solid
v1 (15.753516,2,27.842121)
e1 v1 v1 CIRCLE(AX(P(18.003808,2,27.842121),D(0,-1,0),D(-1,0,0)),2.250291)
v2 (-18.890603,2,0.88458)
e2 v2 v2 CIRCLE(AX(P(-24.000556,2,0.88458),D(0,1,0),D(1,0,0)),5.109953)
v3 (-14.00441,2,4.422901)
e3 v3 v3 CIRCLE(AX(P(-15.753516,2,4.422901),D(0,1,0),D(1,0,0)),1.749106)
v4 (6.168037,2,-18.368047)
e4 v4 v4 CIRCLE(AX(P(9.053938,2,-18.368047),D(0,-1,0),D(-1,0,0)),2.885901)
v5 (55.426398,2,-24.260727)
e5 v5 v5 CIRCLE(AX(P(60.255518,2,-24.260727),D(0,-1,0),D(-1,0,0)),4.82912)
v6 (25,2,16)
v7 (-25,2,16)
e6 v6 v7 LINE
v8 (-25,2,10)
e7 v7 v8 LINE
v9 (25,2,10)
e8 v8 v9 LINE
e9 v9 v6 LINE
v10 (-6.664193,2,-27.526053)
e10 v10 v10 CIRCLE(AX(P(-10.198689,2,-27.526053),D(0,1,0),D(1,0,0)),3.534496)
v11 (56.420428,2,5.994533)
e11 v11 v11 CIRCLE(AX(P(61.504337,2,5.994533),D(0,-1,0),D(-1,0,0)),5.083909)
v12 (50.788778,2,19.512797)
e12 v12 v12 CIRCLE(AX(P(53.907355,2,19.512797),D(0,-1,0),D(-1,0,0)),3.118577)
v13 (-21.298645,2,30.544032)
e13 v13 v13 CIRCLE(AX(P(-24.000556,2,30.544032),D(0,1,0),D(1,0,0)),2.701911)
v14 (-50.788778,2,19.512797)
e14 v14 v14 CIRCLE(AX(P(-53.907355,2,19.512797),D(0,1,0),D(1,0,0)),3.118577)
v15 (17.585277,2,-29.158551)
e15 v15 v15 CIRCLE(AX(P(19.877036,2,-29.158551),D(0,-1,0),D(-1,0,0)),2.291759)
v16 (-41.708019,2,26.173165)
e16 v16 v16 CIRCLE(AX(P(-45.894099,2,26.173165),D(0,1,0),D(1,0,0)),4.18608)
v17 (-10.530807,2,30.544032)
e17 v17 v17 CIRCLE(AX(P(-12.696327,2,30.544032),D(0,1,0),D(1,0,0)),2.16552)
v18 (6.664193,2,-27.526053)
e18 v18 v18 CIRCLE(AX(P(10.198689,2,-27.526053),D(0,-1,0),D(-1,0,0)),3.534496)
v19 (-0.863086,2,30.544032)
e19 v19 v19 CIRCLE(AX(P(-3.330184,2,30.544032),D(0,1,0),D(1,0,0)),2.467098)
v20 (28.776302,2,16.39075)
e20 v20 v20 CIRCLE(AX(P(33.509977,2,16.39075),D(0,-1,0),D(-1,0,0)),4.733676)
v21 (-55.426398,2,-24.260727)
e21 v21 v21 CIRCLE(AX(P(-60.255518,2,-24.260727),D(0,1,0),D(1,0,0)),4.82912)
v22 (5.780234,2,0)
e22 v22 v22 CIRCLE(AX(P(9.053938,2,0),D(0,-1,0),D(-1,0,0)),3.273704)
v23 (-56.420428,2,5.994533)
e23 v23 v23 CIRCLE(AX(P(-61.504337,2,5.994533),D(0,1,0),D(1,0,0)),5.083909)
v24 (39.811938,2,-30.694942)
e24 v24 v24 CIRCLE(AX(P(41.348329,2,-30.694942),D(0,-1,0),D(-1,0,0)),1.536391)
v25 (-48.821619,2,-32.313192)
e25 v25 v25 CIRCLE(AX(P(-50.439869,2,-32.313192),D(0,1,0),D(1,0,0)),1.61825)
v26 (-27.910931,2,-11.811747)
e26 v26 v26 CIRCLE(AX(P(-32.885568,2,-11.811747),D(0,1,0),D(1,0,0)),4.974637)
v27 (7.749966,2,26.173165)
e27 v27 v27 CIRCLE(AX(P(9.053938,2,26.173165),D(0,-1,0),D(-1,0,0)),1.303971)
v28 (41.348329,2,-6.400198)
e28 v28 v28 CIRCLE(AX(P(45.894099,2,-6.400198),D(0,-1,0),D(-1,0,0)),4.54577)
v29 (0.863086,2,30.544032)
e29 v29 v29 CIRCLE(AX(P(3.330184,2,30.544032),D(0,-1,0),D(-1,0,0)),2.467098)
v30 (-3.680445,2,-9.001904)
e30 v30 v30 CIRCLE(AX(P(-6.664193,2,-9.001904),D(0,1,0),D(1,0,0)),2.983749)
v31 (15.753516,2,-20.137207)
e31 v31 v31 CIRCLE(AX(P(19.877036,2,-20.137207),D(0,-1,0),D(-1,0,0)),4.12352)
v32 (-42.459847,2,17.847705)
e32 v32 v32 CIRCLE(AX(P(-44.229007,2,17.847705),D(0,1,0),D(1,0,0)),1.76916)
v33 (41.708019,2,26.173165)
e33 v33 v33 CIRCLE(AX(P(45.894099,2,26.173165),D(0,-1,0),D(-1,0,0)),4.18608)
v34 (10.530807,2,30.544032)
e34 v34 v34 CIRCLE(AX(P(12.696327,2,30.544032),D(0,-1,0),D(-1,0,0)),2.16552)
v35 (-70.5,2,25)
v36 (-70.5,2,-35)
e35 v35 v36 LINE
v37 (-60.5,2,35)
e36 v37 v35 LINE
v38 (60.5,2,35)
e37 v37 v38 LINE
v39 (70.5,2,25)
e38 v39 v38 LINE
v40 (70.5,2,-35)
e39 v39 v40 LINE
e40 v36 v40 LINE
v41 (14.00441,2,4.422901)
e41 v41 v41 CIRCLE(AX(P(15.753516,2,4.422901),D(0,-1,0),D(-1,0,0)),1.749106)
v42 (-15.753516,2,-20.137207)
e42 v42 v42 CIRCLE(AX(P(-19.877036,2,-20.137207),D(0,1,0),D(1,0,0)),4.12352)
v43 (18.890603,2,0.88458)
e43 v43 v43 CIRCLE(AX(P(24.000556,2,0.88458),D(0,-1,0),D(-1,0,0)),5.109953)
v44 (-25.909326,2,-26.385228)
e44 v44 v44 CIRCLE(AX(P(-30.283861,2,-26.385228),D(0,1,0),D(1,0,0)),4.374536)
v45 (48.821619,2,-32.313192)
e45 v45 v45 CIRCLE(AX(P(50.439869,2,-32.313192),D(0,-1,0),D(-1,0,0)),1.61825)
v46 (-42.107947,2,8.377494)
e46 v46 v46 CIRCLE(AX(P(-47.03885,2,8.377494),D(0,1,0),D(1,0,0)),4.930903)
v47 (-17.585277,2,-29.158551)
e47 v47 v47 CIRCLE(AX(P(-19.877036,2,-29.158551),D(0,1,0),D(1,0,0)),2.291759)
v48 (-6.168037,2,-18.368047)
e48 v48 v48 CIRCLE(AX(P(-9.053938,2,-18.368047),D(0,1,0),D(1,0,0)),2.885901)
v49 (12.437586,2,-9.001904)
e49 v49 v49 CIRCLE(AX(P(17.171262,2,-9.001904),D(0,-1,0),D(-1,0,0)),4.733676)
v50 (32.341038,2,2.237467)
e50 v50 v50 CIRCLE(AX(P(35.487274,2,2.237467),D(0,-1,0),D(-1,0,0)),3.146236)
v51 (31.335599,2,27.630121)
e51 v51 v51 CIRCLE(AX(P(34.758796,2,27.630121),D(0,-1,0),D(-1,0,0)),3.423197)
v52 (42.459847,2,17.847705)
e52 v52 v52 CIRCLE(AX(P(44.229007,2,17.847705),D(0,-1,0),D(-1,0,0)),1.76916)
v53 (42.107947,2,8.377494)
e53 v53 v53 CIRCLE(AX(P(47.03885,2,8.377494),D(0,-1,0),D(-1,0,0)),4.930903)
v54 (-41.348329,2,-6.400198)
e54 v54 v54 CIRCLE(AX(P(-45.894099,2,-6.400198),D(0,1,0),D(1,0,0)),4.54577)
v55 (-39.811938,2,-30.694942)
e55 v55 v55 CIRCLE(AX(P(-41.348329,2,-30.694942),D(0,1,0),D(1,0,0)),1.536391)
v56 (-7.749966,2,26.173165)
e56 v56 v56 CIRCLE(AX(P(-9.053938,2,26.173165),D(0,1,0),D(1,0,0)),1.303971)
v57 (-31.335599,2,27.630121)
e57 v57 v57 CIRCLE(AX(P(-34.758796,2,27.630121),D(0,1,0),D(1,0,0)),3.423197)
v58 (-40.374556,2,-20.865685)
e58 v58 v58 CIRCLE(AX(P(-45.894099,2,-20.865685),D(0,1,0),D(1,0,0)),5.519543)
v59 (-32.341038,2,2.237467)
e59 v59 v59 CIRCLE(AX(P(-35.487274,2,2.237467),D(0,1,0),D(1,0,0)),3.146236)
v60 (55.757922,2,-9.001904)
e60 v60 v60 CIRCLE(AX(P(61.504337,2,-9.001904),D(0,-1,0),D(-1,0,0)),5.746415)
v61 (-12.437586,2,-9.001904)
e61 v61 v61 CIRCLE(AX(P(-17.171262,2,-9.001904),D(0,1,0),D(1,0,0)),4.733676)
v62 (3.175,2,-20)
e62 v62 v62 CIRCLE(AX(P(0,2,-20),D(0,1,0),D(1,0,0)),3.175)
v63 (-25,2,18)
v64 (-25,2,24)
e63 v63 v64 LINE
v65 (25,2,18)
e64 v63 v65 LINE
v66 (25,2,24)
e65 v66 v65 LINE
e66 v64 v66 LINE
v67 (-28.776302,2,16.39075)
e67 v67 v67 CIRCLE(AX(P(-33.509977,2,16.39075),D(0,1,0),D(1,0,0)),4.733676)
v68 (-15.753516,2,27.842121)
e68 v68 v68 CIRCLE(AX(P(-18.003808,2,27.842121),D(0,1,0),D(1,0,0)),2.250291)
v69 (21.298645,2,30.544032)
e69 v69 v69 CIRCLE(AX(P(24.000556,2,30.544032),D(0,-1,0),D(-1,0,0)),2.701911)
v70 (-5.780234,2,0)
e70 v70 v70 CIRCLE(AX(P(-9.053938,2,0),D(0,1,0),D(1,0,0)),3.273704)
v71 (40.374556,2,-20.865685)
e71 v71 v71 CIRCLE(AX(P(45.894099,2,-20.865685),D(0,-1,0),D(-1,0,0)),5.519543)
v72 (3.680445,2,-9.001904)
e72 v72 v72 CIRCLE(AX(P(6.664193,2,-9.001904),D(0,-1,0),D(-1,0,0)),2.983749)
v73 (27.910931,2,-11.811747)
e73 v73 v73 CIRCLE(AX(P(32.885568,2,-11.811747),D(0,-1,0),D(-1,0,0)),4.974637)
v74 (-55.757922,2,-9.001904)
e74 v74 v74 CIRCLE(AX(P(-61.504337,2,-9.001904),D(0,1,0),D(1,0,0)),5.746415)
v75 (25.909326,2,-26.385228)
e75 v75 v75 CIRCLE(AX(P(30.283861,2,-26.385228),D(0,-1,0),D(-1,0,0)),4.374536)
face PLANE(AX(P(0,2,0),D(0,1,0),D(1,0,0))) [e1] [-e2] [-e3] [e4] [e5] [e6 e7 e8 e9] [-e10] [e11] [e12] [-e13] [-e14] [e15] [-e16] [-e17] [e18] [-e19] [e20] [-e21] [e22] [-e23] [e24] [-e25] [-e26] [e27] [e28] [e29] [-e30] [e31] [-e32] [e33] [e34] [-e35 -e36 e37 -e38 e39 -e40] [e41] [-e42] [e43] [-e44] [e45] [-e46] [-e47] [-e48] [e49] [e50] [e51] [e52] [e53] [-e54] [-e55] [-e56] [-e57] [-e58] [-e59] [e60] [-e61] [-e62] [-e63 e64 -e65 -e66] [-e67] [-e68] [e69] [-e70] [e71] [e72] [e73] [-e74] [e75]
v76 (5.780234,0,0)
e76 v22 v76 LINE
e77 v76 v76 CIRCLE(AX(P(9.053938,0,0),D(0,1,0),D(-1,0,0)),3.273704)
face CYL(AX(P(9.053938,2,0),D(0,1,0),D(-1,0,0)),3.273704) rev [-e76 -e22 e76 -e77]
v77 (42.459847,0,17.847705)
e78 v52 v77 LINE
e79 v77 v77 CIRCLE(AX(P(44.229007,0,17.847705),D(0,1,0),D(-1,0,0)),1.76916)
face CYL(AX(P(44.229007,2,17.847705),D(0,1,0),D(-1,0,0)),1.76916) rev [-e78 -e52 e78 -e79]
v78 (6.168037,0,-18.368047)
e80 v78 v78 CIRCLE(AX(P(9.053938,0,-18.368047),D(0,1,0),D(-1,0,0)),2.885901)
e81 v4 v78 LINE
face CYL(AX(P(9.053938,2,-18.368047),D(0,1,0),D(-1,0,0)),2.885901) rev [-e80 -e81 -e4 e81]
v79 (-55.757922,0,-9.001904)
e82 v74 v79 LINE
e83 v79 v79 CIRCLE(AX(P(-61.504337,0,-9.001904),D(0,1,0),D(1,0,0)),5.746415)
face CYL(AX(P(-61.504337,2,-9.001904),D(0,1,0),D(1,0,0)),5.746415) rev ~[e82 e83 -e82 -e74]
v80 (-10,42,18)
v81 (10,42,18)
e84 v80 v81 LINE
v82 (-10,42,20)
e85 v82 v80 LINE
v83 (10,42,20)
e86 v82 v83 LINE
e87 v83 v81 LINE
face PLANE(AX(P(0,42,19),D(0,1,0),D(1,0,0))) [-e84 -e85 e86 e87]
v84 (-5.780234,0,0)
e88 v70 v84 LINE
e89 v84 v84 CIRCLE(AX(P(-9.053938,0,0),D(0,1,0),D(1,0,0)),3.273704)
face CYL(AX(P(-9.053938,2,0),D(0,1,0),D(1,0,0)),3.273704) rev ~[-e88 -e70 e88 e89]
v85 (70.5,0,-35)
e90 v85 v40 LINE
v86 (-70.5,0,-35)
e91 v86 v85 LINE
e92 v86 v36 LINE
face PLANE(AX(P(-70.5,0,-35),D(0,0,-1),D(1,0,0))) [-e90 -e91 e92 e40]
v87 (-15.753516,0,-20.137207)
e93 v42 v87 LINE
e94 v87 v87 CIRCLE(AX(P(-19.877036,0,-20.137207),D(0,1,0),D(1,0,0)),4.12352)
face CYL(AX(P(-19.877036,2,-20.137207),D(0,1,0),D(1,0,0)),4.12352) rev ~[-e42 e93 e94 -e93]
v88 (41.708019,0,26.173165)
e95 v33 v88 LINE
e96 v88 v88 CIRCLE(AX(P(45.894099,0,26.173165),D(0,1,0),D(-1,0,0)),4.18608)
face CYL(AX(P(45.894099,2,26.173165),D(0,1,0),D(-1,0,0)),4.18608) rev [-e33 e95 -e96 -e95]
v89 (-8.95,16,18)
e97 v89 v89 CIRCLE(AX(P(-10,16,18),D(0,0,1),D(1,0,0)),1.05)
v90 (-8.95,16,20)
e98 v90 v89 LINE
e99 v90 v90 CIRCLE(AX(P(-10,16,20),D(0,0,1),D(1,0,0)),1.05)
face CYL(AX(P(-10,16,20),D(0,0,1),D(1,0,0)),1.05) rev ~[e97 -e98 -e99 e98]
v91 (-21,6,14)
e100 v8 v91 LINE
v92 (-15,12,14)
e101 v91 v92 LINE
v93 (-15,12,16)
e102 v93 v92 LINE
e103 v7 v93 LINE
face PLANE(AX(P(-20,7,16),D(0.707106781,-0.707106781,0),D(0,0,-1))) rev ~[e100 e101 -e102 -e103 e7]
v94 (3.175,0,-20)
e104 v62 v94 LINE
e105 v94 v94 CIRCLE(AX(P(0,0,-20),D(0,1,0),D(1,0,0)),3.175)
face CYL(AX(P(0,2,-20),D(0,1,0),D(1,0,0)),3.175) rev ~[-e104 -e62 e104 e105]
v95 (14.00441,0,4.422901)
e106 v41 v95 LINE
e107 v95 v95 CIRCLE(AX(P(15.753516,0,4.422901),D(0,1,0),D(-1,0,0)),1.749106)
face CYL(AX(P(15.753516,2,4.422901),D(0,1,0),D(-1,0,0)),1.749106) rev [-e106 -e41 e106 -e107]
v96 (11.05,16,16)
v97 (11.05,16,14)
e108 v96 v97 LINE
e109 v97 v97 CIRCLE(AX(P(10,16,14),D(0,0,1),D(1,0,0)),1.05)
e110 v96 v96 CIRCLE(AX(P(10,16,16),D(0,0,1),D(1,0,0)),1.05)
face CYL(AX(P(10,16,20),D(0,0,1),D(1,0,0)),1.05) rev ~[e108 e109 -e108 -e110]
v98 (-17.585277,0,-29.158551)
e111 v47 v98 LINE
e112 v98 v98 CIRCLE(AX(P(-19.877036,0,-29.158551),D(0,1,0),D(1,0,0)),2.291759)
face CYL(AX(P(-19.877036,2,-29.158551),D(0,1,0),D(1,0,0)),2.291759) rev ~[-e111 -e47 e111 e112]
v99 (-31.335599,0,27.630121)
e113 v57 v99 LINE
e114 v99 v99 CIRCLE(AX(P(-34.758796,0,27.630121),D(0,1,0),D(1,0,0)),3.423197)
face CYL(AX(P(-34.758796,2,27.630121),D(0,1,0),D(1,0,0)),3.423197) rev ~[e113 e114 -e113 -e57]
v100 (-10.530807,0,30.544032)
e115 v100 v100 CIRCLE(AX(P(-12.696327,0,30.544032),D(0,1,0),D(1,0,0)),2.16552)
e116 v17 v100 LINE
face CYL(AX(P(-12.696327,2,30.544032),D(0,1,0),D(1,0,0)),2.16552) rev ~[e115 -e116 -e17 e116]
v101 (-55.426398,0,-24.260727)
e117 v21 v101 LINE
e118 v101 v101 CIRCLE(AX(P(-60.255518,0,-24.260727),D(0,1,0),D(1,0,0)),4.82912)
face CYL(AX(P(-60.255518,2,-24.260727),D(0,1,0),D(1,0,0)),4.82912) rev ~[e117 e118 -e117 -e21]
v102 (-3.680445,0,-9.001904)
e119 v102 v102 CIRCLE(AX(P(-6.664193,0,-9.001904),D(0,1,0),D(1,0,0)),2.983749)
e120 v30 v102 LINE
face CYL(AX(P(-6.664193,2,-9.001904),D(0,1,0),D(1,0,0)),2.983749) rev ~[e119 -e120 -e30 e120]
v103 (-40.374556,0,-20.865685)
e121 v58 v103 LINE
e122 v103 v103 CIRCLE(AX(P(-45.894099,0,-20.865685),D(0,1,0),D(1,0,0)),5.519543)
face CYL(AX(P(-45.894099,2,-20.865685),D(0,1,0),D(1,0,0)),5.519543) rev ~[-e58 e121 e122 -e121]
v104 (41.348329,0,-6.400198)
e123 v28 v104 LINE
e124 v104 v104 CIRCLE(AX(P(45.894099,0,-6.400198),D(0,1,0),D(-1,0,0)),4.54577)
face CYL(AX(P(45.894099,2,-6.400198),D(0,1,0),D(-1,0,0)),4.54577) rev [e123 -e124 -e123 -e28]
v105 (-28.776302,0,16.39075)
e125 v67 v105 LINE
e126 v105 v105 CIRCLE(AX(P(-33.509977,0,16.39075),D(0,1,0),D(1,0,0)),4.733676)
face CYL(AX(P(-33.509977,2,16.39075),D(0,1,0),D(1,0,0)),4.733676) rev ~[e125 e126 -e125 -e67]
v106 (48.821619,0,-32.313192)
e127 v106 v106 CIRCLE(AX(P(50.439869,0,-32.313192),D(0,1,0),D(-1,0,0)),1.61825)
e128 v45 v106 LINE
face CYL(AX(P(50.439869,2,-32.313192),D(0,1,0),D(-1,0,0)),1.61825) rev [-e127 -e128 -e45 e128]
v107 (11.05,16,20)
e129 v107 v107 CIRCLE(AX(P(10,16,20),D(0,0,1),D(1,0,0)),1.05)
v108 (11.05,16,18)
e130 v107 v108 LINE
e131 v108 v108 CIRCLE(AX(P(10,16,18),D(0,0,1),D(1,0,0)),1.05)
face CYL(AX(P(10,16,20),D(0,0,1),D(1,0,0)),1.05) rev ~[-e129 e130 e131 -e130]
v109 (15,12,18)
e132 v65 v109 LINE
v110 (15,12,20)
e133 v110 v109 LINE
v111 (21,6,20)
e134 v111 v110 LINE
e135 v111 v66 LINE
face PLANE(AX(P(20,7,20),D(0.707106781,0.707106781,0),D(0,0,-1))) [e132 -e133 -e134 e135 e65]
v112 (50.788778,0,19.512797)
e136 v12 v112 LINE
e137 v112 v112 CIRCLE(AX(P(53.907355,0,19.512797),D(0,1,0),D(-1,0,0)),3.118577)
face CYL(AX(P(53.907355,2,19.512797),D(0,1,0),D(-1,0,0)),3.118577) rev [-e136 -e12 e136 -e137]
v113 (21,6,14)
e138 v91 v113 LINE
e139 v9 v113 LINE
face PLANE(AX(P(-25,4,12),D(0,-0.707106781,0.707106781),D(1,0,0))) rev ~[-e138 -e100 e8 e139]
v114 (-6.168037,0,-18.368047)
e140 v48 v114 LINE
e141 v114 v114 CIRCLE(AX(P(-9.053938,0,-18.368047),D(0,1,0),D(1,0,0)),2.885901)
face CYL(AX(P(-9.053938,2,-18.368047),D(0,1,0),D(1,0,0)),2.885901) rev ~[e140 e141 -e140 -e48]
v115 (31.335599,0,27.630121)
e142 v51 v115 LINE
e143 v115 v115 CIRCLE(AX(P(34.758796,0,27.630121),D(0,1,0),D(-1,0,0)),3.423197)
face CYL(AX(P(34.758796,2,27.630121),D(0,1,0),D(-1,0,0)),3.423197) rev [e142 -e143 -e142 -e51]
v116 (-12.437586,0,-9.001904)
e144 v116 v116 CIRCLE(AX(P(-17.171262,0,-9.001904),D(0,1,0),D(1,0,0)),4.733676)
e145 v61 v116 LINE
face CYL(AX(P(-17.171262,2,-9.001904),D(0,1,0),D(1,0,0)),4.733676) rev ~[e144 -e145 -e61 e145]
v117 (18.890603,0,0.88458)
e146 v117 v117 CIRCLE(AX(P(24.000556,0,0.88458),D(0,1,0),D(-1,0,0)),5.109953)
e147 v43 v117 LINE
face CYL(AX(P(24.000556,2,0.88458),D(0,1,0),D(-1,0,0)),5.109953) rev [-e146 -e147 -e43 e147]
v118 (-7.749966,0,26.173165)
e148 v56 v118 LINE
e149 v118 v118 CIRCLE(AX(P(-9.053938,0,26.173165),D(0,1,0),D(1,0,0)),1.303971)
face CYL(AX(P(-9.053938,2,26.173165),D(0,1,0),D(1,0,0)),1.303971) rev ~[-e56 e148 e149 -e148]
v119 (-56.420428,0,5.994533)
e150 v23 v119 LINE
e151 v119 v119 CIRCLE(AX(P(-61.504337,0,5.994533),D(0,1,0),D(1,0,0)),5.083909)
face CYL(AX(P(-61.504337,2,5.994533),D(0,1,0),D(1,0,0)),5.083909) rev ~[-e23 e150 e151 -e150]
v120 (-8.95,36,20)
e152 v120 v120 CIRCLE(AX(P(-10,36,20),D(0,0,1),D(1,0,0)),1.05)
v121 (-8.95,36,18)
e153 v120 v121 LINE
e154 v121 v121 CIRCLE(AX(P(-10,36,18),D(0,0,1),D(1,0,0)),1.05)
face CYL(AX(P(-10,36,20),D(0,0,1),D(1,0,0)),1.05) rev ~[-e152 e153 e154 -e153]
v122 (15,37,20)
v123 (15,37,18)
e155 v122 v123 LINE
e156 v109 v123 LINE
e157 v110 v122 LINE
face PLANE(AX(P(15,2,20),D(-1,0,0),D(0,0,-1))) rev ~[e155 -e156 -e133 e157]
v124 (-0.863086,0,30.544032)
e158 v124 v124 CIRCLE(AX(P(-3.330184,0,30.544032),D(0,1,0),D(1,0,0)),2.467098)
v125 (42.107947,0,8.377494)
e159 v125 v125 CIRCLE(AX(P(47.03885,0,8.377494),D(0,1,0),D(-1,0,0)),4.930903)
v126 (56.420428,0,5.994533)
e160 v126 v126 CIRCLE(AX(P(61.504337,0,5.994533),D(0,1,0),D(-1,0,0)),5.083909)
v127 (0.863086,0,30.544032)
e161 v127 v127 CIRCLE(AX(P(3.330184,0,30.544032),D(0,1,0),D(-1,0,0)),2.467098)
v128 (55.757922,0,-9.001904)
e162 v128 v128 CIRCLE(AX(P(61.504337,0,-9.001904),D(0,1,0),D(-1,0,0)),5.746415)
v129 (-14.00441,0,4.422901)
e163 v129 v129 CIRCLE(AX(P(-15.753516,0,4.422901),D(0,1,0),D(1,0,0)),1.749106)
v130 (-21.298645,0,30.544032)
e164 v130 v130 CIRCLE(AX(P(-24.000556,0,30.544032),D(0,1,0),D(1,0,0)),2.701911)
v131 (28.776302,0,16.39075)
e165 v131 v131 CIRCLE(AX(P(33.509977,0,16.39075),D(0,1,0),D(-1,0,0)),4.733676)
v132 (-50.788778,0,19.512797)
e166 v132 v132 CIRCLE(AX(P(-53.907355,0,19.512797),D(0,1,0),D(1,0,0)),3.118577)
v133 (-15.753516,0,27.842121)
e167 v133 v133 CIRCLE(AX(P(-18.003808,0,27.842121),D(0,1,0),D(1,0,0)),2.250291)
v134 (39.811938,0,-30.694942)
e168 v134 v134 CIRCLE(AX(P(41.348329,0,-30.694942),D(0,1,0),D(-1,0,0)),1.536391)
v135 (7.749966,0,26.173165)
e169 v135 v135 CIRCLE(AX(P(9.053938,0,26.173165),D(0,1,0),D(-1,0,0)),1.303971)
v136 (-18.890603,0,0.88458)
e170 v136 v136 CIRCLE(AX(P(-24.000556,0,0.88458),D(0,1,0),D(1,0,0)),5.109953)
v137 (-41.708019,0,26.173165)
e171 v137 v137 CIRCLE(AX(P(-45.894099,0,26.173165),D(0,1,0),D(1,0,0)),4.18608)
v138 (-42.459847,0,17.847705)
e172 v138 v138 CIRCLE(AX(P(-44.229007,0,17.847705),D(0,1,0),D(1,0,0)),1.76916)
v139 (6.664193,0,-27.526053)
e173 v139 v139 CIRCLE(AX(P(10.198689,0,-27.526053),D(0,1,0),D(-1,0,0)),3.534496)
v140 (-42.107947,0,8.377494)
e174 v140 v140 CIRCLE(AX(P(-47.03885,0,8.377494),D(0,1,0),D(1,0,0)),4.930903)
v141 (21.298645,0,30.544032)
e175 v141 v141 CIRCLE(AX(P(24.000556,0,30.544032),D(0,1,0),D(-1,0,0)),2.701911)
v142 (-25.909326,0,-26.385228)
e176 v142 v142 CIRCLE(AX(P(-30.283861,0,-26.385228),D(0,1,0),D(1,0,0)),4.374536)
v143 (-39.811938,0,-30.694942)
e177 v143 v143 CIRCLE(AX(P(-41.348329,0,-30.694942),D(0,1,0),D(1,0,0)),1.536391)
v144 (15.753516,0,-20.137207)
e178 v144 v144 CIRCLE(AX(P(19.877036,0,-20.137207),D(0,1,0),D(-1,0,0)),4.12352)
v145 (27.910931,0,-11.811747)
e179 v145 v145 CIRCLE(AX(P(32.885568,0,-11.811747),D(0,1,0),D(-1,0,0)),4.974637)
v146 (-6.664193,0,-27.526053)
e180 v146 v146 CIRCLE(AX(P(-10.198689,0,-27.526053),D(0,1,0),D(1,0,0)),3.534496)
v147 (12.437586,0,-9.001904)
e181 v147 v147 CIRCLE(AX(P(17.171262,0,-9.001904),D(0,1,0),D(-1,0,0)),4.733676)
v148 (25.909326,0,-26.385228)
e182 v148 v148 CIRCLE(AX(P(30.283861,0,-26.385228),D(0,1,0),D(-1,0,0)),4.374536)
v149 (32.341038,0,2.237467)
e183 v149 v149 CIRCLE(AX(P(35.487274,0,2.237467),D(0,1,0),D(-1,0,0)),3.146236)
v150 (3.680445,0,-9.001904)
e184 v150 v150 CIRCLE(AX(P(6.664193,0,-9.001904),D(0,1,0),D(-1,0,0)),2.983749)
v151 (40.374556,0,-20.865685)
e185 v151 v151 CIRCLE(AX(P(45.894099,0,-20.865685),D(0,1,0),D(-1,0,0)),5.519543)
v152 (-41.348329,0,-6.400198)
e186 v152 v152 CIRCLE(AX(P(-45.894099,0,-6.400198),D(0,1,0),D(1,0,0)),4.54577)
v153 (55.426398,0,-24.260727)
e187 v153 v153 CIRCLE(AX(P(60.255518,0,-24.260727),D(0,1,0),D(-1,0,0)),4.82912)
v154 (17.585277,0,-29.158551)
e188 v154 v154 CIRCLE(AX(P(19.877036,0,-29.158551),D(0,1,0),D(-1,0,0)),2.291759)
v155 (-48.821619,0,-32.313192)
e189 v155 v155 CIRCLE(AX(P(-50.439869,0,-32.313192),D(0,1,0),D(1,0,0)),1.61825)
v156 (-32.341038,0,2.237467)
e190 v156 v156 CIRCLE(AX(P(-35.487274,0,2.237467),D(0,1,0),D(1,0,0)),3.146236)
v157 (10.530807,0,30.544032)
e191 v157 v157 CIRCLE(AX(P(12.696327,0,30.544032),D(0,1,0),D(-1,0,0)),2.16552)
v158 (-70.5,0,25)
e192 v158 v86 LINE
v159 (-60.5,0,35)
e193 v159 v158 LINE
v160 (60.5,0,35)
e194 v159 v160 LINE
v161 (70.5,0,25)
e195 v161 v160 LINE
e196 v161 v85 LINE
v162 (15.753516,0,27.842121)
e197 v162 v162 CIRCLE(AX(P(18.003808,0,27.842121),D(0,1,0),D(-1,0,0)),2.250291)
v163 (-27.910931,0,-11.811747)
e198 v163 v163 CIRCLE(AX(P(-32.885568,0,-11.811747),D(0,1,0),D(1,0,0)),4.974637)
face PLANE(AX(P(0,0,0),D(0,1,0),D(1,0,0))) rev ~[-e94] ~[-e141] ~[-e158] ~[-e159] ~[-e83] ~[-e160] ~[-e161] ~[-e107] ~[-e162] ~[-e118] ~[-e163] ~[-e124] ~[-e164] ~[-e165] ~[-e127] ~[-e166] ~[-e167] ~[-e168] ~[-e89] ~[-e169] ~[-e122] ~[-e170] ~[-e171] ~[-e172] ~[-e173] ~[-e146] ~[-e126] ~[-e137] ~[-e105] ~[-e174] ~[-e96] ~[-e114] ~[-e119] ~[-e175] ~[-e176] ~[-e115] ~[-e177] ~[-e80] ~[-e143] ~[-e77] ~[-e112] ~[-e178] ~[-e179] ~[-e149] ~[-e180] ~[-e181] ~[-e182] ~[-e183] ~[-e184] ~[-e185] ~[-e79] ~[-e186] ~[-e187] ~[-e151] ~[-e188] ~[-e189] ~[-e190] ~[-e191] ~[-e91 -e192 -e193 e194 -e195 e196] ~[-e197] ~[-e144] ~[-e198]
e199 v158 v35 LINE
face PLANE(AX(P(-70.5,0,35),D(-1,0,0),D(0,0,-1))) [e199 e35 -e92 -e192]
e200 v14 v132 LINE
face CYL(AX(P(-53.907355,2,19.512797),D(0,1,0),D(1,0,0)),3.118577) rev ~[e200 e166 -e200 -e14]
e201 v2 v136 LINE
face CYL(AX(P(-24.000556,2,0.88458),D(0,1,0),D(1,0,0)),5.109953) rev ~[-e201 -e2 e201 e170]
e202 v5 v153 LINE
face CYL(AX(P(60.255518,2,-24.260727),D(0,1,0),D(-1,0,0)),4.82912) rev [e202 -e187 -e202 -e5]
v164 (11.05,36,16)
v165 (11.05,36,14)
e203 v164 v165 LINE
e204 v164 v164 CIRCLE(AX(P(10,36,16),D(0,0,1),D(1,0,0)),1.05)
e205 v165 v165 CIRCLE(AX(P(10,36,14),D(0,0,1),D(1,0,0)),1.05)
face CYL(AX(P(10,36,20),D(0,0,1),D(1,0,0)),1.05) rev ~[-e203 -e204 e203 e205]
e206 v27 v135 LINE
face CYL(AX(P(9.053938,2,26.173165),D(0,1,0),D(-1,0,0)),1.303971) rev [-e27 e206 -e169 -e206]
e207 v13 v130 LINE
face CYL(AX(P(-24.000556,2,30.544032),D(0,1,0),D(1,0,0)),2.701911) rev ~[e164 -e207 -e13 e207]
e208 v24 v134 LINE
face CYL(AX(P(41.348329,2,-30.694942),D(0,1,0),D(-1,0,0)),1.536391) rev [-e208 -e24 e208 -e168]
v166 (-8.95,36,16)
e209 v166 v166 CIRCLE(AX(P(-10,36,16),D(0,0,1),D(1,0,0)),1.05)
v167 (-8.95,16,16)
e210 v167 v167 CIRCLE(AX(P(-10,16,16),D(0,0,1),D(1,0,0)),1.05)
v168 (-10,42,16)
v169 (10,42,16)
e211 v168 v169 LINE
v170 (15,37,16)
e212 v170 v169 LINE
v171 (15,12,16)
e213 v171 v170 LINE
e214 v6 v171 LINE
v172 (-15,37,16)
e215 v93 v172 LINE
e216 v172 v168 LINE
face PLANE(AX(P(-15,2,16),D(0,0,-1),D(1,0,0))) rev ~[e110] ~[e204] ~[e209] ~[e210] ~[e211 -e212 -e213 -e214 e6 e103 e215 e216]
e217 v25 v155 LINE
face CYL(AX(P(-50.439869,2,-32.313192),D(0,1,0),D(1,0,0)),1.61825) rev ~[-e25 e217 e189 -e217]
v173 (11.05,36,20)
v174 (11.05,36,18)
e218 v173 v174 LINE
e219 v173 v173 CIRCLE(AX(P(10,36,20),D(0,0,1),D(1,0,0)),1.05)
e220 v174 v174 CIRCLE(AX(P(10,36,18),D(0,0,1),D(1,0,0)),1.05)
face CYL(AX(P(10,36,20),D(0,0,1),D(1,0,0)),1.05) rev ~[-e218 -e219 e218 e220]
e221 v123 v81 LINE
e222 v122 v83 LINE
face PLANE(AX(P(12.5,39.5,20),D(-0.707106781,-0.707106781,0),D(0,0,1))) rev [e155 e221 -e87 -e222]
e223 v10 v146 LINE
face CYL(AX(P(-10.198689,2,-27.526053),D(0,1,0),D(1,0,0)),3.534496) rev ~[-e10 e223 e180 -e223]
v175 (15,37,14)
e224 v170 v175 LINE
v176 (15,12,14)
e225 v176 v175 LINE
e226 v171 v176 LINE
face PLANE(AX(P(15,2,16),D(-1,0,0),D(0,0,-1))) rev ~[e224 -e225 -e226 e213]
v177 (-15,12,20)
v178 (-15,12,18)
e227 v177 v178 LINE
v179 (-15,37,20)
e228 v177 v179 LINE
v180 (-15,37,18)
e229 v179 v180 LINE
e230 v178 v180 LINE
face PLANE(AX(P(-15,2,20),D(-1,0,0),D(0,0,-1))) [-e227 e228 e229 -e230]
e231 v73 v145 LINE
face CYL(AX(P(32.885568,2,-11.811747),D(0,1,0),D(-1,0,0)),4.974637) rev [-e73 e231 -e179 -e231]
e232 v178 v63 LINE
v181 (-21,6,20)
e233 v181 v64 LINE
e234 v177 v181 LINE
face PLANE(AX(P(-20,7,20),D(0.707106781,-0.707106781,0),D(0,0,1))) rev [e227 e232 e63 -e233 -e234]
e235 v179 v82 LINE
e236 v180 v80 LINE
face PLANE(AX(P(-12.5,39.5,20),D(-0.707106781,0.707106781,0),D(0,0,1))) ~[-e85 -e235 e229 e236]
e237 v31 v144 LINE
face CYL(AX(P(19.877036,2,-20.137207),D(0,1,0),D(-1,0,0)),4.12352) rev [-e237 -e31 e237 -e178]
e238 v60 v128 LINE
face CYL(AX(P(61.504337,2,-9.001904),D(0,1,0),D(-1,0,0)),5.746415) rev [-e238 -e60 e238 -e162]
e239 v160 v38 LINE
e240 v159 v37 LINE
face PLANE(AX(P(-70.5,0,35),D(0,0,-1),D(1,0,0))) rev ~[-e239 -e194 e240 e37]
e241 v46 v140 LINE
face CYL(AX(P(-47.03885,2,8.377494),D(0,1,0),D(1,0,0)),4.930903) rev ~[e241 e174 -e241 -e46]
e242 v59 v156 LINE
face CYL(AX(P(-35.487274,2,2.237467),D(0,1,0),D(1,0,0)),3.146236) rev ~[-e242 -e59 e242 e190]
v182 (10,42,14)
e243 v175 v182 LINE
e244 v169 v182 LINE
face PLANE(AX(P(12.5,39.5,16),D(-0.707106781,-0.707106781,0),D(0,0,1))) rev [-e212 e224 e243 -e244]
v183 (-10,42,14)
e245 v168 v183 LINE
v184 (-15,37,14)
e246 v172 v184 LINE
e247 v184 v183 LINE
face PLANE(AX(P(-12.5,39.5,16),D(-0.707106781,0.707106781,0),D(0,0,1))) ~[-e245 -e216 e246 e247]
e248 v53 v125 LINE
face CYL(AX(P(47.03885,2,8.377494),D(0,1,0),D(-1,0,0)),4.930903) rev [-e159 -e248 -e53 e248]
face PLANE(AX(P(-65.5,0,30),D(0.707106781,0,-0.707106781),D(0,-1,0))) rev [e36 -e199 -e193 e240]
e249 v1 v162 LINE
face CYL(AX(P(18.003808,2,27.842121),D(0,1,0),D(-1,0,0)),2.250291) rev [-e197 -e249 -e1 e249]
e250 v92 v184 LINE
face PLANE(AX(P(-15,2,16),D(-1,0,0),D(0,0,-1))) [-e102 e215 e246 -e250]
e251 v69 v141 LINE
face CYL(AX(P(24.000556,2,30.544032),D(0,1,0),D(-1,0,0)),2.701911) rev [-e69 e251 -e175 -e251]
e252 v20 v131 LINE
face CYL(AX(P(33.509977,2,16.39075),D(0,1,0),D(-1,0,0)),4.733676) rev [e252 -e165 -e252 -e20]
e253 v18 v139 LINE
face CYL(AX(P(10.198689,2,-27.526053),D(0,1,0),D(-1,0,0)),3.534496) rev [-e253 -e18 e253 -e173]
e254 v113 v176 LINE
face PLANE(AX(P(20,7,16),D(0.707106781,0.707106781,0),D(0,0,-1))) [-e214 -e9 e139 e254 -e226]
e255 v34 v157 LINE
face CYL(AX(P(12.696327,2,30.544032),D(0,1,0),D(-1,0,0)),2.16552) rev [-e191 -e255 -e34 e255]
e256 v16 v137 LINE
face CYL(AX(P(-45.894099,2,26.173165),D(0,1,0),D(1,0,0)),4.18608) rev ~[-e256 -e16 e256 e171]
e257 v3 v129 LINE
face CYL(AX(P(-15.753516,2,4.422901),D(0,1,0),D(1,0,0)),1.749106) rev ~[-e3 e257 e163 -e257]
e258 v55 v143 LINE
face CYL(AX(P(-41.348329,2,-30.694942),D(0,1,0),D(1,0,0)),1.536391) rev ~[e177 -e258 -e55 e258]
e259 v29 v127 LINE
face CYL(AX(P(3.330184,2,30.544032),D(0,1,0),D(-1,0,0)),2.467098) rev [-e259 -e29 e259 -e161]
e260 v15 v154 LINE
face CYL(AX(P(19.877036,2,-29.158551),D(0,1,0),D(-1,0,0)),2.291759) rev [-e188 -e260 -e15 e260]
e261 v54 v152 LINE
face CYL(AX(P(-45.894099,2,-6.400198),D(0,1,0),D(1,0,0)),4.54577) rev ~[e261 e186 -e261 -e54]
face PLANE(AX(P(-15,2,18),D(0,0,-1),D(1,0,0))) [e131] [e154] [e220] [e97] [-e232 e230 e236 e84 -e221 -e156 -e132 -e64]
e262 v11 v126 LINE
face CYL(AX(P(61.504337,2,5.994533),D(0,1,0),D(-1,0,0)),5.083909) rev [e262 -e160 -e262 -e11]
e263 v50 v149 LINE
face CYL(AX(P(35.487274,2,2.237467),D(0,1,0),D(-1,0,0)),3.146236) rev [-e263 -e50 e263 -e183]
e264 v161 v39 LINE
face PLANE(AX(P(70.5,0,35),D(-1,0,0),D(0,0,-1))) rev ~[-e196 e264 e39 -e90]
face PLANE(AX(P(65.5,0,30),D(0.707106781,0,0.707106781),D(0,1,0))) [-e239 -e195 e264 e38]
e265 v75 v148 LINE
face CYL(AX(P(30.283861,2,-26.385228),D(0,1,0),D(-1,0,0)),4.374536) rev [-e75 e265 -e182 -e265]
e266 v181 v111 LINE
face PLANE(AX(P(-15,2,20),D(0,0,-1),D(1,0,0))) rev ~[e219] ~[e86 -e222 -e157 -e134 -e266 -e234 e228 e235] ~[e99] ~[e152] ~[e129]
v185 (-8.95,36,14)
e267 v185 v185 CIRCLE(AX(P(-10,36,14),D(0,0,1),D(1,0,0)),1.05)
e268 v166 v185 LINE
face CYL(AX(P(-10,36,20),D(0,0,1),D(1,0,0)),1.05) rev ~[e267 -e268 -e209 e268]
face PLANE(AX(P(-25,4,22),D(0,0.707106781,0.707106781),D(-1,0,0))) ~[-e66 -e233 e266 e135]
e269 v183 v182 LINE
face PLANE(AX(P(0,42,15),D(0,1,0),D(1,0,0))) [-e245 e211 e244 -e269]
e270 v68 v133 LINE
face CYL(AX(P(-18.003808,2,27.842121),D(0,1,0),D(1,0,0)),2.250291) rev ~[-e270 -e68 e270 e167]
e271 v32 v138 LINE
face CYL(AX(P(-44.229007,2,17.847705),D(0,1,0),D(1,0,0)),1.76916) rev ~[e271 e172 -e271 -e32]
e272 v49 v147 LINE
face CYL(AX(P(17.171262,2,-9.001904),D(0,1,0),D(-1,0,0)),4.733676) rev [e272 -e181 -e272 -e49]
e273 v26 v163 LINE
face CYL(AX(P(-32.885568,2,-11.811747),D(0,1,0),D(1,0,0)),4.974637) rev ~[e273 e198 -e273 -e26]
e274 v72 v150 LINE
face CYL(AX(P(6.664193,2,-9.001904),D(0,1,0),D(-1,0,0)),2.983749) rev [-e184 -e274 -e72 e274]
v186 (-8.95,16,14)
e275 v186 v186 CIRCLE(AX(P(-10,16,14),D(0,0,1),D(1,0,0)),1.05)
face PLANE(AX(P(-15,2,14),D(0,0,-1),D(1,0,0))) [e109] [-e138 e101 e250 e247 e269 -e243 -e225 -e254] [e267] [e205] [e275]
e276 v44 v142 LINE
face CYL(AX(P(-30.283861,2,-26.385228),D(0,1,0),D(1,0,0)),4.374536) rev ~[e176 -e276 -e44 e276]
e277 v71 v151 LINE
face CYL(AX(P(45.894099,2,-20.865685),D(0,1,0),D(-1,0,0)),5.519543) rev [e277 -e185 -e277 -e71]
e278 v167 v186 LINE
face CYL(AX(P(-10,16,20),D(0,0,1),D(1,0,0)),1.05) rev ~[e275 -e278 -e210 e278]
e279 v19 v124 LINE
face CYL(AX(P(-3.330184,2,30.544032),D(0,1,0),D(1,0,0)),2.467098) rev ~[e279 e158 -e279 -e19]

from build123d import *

# Parameters (mm, degrees)
SKETCH1_W           = 141
SKETCH1_H           = 70
BOSS_EXTRUDE1_DEPTH = 2
SKETCH2_W           = 30
SKETCH2_H           = 2
BOSS_EXTRUDE2_DEPTH = 40
SKETCH3_R           = 1.05
CUT_EXTRUDE1_DEPTH  = 20
CHAMFER1_SIZE       = 5
CHAMFER2_SIZE       = 10
CHAMFER3_SIZE       = 4
CHAMFER4_SIZE       = 10
SKETCH4_R           = 3.175
CUT_EXTRUDE2_DEPTH  = 10
SKETCH5_R           = 4.974636633
SKETCH5_R_2         = 3.146236459
SKETCH5_R_3         = 4.54576988
SKETCH5_R_4         = 5.519543083
SKETCH5_R_5         = 4.37453593
SKETCH5_R_6         = 4.123519833
SKETCH5_R_7         = 4.733675758
SKETCH5_R_8         = 5.109952542
SKETCH5_R_9         = 4.930902715
SKETCH5_R_10        = 3.1185767
SKETCH5_R_11        = 4.186079964
SKETCH5_R_12        = 3.423196992
SKETCH5_R_13        = 5.083908884
SKETCH5_R_14        = 5.746414823
SKETCH5_R_15        = 4.82911997
SKETCH5_R_16        = 1.618250018
SKETCH5_R_17        = 1.536391082
SKETCH5_R_18        = 2.291759317
SKETCH5_R_19        = 3.534495501
SKETCH5_R_20        = 2.885901018
SKETCH5_R_21        = 2.983748602
SKETCH5_R_22        = 3.273704374
SKETCH5_R_23        = 1.749106038
SKETCH5_R_24        = 1.76916029
SKETCH5_R_25        = 2.701911231
SKETCH5_R_26        = 2.165520053
SKETCH5_R_27        = 2.467098103
SKETCH5_R_28        = 1.303971465
SKETCH5_R_29        = 2.25029129
CUT_EXTRUDE3_DEPTH  = 10


with BuildPart() as part:
    # Sketch1 → Boss-Extrude1 (new body)
    with BuildSketch(Plane(origin=(0, 0, 0), x_dir=(1, 0, 0), z_dir=(0, 1, 0))):
        Rectangle(SKETCH1_W, SKETCH1_H)
    extrude(amount=BOSS_EXTRUDE1_DEPTH)

    # Sketch2 → Boss-Extrude2 (add)
    with BuildSketch(Plane(origin=(0, 2, 0), x_dir=(1, 0, 0), z_dir=(0, 1, 0))):
        with Locations((0, -15)):
            Rectangle(SKETCH2_W, SKETCH2_H)
        with Locations((0, -19)):
            Rectangle(SKETCH2_W, SKETCH2_H)
    extrude(amount=BOSS_EXTRUDE2_DEPTH)

    # Sketch3 → Cut-Extrude1 (cut)
    with BuildSketch(Plane.XY.offset(20)):
        with Locations((-10, 16)):
            Circle(SKETCH3_R)
        with Locations((-10, 36)):
            Circle(SKETCH3_R)
        with Locations((10, 36)):
            Circle(SKETCH3_R)
        with Locations((10, 16)):
            Circle(SKETCH3_R)
    extrude(amount=-CUT_EXTRUDE1_DEPTH, mode=Mode.SUBTRACT)

    # Chamfer1
    chamfer1_edges = [part.edges().sort_by_distance(p)[0] for p in [
        (-15, 42, 15),
        (15, 42, 15),
        (-15, 42, 19),
        (15, 42, 19),
    ]]
    chamfer(chamfer1_edges, length=CHAMFER1_SIZE)

    # Chamfer2
    chamfer2_edges = [part.edges().sort_by_distance(p)[0] for p in [
        (-15, 2, 15),
        (15, 2, 15),
        (-15, 2, 19),
        (15, 2, 19),
    ]]
    chamfer(chamfer2_edges, length=CHAMFER2_SIZE)

    # Chamfer3
    chamfer3_edges = [part.edges().sort_by_distance(p)[0] for p in [
        (0, 2, 14),
        (0, 2, 20),
    ]]
    chamfer(chamfer3_edges, length=CHAMFER3_SIZE)

    # Chamfer4
    chamfer4_edges = [part.edges().sort_by_distance(p)[0] for p in [
        (70.5, 1, 35),
        (-70.5, 1, 35),
    ]]
    chamfer(chamfer4_edges, length=CHAMFER4_SIZE)

    # Sketch4 → Cut-Extrude2 (cut)
    with BuildSketch(Plane(origin=(0, 2, 0), x_dir=(1, 0, 0), z_dir=(0, 1, 0))):
        with Locations((0, 20)):
            Circle(SKETCH4_R)
    extrude(amount=-CUT_EXTRUDE2_DEPTH, mode=Mode.SUBTRACT)

    # Sketch5 → Cut-Extrude3 (cut)
    with BuildSketch(Plane(origin=(0, 2, 0), x_dir=(1, 0, 0), z_dir=(0, 1, 0))):
        with Locations((-32.885567752, 11.811746645)):
            Circle(SKETCH5_R)
        with Locations((-35.487274061, -2.237467426)):
            Circle(SKETCH5_R_2)
        with Locations((-45.894099299, 6.400197521)):
            Circle(SKETCH5_R_3)
        with Locations((-45.894099299, 20.865684602)):
            Circle(SKETCH5_R_4)
        with Locations((-30.283861442, 26.385227685)):
            Circle(SKETCH5_R_5)
        with Locations((-19.877036204, 20.137206835)):
            Circle(SKETCH5_R_6)
        with Locations((-17.171261642, 9.001903831)):
            Circle(SKETCH5_R_7)
        with Locations((-24.000556037, -0.884580145)):
            Circle(SKETCH5_R_8)
        with Locations((-33.509977266, -16.39074975)):
            Circle(SKETCH5_R_7)
        with Locations((-47.038850075, -8.377494316)):
            Circle(SKETCH5_R_9)
        with Locations((-53.907354732, -19.512797321)):
            Circle(SKETCH5_R_10)
        with Locations((-45.894099299, -26.173165473)):
            Circle(SKETCH5_R_11)
        with Locations((-34.758796294, -27.630121007)):
            Circle(SKETCH5_R_12)
        with Locations((-61.504337156, -5.994532687)):
            Circle(SKETCH5_R_13)
        with Locations((-61.504337156, 9.001903831)):
            Circle(SKETCH5_R_14)
        with Locations((-60.255518127, 24.260726668)):
            Circle(SKETCH5_R_15)
        with Locations((-50.439869179, 32.313192364)):
            Circle(SKETCH5_R_16)
        with Locations((-41.348329419, 30.694942345)):
            Circle(SKETCH5_R_17)
        with Locations((-19.877036204, 29.158551263)):
            Circle(SKETCH5_R_18)
        with Locations((-10.198688733, 27.526052754)):
            Circle(SKETCH5_R_19)
        with Locations((-9.053937957, 18.368046545)):
            Circle(SKETCH5_R_20)
        with Locations((-6.664193232, 9.001903831)):
            Circle(SKETCH5_R_21)
        with Locations((-9.053937957, 0)):
            Circle(SKETCH5_R_22)
        with Locations((-15.753516372, -4.422900726)):
            Circle(SKETCH5_R_23)
        with Locations((-44.229007261, -17.847705283)):
            Circle(SKETCH5_R_24)
        with Locations((-24.000556037, -30.544032073)):
            Circle(SKETCH5_R_25)
        with Locations((-12.69632679, -30.544032073)):
            Circle(SKETCH5_R_26)
        with Locations((-3.330184076, -30.544032073)):
            Circle(SKETCH5_R_27)
        with Locations((-9.053937957, -26.173165473)):
            Circle(SKETCH5_R_28)
        with Locations((-18.003807661, -27.842120842)):
            Circle(SKETCH5_R_29)
    cut_extrude3 = extrude(amount=-CUT_EXTRUDE3_DEPTH, mode=Mode.SUBTRACT)

    # Mirror1: Cut-Extrude3 across plane
    add(cut_extrude3.mirror(Plane(origin=(0, 0, 0), x_dir=(0, 0, 1), z_dir=(1, 0, 0))), mode=Mode.SUBTRACT)


solid = part.part
